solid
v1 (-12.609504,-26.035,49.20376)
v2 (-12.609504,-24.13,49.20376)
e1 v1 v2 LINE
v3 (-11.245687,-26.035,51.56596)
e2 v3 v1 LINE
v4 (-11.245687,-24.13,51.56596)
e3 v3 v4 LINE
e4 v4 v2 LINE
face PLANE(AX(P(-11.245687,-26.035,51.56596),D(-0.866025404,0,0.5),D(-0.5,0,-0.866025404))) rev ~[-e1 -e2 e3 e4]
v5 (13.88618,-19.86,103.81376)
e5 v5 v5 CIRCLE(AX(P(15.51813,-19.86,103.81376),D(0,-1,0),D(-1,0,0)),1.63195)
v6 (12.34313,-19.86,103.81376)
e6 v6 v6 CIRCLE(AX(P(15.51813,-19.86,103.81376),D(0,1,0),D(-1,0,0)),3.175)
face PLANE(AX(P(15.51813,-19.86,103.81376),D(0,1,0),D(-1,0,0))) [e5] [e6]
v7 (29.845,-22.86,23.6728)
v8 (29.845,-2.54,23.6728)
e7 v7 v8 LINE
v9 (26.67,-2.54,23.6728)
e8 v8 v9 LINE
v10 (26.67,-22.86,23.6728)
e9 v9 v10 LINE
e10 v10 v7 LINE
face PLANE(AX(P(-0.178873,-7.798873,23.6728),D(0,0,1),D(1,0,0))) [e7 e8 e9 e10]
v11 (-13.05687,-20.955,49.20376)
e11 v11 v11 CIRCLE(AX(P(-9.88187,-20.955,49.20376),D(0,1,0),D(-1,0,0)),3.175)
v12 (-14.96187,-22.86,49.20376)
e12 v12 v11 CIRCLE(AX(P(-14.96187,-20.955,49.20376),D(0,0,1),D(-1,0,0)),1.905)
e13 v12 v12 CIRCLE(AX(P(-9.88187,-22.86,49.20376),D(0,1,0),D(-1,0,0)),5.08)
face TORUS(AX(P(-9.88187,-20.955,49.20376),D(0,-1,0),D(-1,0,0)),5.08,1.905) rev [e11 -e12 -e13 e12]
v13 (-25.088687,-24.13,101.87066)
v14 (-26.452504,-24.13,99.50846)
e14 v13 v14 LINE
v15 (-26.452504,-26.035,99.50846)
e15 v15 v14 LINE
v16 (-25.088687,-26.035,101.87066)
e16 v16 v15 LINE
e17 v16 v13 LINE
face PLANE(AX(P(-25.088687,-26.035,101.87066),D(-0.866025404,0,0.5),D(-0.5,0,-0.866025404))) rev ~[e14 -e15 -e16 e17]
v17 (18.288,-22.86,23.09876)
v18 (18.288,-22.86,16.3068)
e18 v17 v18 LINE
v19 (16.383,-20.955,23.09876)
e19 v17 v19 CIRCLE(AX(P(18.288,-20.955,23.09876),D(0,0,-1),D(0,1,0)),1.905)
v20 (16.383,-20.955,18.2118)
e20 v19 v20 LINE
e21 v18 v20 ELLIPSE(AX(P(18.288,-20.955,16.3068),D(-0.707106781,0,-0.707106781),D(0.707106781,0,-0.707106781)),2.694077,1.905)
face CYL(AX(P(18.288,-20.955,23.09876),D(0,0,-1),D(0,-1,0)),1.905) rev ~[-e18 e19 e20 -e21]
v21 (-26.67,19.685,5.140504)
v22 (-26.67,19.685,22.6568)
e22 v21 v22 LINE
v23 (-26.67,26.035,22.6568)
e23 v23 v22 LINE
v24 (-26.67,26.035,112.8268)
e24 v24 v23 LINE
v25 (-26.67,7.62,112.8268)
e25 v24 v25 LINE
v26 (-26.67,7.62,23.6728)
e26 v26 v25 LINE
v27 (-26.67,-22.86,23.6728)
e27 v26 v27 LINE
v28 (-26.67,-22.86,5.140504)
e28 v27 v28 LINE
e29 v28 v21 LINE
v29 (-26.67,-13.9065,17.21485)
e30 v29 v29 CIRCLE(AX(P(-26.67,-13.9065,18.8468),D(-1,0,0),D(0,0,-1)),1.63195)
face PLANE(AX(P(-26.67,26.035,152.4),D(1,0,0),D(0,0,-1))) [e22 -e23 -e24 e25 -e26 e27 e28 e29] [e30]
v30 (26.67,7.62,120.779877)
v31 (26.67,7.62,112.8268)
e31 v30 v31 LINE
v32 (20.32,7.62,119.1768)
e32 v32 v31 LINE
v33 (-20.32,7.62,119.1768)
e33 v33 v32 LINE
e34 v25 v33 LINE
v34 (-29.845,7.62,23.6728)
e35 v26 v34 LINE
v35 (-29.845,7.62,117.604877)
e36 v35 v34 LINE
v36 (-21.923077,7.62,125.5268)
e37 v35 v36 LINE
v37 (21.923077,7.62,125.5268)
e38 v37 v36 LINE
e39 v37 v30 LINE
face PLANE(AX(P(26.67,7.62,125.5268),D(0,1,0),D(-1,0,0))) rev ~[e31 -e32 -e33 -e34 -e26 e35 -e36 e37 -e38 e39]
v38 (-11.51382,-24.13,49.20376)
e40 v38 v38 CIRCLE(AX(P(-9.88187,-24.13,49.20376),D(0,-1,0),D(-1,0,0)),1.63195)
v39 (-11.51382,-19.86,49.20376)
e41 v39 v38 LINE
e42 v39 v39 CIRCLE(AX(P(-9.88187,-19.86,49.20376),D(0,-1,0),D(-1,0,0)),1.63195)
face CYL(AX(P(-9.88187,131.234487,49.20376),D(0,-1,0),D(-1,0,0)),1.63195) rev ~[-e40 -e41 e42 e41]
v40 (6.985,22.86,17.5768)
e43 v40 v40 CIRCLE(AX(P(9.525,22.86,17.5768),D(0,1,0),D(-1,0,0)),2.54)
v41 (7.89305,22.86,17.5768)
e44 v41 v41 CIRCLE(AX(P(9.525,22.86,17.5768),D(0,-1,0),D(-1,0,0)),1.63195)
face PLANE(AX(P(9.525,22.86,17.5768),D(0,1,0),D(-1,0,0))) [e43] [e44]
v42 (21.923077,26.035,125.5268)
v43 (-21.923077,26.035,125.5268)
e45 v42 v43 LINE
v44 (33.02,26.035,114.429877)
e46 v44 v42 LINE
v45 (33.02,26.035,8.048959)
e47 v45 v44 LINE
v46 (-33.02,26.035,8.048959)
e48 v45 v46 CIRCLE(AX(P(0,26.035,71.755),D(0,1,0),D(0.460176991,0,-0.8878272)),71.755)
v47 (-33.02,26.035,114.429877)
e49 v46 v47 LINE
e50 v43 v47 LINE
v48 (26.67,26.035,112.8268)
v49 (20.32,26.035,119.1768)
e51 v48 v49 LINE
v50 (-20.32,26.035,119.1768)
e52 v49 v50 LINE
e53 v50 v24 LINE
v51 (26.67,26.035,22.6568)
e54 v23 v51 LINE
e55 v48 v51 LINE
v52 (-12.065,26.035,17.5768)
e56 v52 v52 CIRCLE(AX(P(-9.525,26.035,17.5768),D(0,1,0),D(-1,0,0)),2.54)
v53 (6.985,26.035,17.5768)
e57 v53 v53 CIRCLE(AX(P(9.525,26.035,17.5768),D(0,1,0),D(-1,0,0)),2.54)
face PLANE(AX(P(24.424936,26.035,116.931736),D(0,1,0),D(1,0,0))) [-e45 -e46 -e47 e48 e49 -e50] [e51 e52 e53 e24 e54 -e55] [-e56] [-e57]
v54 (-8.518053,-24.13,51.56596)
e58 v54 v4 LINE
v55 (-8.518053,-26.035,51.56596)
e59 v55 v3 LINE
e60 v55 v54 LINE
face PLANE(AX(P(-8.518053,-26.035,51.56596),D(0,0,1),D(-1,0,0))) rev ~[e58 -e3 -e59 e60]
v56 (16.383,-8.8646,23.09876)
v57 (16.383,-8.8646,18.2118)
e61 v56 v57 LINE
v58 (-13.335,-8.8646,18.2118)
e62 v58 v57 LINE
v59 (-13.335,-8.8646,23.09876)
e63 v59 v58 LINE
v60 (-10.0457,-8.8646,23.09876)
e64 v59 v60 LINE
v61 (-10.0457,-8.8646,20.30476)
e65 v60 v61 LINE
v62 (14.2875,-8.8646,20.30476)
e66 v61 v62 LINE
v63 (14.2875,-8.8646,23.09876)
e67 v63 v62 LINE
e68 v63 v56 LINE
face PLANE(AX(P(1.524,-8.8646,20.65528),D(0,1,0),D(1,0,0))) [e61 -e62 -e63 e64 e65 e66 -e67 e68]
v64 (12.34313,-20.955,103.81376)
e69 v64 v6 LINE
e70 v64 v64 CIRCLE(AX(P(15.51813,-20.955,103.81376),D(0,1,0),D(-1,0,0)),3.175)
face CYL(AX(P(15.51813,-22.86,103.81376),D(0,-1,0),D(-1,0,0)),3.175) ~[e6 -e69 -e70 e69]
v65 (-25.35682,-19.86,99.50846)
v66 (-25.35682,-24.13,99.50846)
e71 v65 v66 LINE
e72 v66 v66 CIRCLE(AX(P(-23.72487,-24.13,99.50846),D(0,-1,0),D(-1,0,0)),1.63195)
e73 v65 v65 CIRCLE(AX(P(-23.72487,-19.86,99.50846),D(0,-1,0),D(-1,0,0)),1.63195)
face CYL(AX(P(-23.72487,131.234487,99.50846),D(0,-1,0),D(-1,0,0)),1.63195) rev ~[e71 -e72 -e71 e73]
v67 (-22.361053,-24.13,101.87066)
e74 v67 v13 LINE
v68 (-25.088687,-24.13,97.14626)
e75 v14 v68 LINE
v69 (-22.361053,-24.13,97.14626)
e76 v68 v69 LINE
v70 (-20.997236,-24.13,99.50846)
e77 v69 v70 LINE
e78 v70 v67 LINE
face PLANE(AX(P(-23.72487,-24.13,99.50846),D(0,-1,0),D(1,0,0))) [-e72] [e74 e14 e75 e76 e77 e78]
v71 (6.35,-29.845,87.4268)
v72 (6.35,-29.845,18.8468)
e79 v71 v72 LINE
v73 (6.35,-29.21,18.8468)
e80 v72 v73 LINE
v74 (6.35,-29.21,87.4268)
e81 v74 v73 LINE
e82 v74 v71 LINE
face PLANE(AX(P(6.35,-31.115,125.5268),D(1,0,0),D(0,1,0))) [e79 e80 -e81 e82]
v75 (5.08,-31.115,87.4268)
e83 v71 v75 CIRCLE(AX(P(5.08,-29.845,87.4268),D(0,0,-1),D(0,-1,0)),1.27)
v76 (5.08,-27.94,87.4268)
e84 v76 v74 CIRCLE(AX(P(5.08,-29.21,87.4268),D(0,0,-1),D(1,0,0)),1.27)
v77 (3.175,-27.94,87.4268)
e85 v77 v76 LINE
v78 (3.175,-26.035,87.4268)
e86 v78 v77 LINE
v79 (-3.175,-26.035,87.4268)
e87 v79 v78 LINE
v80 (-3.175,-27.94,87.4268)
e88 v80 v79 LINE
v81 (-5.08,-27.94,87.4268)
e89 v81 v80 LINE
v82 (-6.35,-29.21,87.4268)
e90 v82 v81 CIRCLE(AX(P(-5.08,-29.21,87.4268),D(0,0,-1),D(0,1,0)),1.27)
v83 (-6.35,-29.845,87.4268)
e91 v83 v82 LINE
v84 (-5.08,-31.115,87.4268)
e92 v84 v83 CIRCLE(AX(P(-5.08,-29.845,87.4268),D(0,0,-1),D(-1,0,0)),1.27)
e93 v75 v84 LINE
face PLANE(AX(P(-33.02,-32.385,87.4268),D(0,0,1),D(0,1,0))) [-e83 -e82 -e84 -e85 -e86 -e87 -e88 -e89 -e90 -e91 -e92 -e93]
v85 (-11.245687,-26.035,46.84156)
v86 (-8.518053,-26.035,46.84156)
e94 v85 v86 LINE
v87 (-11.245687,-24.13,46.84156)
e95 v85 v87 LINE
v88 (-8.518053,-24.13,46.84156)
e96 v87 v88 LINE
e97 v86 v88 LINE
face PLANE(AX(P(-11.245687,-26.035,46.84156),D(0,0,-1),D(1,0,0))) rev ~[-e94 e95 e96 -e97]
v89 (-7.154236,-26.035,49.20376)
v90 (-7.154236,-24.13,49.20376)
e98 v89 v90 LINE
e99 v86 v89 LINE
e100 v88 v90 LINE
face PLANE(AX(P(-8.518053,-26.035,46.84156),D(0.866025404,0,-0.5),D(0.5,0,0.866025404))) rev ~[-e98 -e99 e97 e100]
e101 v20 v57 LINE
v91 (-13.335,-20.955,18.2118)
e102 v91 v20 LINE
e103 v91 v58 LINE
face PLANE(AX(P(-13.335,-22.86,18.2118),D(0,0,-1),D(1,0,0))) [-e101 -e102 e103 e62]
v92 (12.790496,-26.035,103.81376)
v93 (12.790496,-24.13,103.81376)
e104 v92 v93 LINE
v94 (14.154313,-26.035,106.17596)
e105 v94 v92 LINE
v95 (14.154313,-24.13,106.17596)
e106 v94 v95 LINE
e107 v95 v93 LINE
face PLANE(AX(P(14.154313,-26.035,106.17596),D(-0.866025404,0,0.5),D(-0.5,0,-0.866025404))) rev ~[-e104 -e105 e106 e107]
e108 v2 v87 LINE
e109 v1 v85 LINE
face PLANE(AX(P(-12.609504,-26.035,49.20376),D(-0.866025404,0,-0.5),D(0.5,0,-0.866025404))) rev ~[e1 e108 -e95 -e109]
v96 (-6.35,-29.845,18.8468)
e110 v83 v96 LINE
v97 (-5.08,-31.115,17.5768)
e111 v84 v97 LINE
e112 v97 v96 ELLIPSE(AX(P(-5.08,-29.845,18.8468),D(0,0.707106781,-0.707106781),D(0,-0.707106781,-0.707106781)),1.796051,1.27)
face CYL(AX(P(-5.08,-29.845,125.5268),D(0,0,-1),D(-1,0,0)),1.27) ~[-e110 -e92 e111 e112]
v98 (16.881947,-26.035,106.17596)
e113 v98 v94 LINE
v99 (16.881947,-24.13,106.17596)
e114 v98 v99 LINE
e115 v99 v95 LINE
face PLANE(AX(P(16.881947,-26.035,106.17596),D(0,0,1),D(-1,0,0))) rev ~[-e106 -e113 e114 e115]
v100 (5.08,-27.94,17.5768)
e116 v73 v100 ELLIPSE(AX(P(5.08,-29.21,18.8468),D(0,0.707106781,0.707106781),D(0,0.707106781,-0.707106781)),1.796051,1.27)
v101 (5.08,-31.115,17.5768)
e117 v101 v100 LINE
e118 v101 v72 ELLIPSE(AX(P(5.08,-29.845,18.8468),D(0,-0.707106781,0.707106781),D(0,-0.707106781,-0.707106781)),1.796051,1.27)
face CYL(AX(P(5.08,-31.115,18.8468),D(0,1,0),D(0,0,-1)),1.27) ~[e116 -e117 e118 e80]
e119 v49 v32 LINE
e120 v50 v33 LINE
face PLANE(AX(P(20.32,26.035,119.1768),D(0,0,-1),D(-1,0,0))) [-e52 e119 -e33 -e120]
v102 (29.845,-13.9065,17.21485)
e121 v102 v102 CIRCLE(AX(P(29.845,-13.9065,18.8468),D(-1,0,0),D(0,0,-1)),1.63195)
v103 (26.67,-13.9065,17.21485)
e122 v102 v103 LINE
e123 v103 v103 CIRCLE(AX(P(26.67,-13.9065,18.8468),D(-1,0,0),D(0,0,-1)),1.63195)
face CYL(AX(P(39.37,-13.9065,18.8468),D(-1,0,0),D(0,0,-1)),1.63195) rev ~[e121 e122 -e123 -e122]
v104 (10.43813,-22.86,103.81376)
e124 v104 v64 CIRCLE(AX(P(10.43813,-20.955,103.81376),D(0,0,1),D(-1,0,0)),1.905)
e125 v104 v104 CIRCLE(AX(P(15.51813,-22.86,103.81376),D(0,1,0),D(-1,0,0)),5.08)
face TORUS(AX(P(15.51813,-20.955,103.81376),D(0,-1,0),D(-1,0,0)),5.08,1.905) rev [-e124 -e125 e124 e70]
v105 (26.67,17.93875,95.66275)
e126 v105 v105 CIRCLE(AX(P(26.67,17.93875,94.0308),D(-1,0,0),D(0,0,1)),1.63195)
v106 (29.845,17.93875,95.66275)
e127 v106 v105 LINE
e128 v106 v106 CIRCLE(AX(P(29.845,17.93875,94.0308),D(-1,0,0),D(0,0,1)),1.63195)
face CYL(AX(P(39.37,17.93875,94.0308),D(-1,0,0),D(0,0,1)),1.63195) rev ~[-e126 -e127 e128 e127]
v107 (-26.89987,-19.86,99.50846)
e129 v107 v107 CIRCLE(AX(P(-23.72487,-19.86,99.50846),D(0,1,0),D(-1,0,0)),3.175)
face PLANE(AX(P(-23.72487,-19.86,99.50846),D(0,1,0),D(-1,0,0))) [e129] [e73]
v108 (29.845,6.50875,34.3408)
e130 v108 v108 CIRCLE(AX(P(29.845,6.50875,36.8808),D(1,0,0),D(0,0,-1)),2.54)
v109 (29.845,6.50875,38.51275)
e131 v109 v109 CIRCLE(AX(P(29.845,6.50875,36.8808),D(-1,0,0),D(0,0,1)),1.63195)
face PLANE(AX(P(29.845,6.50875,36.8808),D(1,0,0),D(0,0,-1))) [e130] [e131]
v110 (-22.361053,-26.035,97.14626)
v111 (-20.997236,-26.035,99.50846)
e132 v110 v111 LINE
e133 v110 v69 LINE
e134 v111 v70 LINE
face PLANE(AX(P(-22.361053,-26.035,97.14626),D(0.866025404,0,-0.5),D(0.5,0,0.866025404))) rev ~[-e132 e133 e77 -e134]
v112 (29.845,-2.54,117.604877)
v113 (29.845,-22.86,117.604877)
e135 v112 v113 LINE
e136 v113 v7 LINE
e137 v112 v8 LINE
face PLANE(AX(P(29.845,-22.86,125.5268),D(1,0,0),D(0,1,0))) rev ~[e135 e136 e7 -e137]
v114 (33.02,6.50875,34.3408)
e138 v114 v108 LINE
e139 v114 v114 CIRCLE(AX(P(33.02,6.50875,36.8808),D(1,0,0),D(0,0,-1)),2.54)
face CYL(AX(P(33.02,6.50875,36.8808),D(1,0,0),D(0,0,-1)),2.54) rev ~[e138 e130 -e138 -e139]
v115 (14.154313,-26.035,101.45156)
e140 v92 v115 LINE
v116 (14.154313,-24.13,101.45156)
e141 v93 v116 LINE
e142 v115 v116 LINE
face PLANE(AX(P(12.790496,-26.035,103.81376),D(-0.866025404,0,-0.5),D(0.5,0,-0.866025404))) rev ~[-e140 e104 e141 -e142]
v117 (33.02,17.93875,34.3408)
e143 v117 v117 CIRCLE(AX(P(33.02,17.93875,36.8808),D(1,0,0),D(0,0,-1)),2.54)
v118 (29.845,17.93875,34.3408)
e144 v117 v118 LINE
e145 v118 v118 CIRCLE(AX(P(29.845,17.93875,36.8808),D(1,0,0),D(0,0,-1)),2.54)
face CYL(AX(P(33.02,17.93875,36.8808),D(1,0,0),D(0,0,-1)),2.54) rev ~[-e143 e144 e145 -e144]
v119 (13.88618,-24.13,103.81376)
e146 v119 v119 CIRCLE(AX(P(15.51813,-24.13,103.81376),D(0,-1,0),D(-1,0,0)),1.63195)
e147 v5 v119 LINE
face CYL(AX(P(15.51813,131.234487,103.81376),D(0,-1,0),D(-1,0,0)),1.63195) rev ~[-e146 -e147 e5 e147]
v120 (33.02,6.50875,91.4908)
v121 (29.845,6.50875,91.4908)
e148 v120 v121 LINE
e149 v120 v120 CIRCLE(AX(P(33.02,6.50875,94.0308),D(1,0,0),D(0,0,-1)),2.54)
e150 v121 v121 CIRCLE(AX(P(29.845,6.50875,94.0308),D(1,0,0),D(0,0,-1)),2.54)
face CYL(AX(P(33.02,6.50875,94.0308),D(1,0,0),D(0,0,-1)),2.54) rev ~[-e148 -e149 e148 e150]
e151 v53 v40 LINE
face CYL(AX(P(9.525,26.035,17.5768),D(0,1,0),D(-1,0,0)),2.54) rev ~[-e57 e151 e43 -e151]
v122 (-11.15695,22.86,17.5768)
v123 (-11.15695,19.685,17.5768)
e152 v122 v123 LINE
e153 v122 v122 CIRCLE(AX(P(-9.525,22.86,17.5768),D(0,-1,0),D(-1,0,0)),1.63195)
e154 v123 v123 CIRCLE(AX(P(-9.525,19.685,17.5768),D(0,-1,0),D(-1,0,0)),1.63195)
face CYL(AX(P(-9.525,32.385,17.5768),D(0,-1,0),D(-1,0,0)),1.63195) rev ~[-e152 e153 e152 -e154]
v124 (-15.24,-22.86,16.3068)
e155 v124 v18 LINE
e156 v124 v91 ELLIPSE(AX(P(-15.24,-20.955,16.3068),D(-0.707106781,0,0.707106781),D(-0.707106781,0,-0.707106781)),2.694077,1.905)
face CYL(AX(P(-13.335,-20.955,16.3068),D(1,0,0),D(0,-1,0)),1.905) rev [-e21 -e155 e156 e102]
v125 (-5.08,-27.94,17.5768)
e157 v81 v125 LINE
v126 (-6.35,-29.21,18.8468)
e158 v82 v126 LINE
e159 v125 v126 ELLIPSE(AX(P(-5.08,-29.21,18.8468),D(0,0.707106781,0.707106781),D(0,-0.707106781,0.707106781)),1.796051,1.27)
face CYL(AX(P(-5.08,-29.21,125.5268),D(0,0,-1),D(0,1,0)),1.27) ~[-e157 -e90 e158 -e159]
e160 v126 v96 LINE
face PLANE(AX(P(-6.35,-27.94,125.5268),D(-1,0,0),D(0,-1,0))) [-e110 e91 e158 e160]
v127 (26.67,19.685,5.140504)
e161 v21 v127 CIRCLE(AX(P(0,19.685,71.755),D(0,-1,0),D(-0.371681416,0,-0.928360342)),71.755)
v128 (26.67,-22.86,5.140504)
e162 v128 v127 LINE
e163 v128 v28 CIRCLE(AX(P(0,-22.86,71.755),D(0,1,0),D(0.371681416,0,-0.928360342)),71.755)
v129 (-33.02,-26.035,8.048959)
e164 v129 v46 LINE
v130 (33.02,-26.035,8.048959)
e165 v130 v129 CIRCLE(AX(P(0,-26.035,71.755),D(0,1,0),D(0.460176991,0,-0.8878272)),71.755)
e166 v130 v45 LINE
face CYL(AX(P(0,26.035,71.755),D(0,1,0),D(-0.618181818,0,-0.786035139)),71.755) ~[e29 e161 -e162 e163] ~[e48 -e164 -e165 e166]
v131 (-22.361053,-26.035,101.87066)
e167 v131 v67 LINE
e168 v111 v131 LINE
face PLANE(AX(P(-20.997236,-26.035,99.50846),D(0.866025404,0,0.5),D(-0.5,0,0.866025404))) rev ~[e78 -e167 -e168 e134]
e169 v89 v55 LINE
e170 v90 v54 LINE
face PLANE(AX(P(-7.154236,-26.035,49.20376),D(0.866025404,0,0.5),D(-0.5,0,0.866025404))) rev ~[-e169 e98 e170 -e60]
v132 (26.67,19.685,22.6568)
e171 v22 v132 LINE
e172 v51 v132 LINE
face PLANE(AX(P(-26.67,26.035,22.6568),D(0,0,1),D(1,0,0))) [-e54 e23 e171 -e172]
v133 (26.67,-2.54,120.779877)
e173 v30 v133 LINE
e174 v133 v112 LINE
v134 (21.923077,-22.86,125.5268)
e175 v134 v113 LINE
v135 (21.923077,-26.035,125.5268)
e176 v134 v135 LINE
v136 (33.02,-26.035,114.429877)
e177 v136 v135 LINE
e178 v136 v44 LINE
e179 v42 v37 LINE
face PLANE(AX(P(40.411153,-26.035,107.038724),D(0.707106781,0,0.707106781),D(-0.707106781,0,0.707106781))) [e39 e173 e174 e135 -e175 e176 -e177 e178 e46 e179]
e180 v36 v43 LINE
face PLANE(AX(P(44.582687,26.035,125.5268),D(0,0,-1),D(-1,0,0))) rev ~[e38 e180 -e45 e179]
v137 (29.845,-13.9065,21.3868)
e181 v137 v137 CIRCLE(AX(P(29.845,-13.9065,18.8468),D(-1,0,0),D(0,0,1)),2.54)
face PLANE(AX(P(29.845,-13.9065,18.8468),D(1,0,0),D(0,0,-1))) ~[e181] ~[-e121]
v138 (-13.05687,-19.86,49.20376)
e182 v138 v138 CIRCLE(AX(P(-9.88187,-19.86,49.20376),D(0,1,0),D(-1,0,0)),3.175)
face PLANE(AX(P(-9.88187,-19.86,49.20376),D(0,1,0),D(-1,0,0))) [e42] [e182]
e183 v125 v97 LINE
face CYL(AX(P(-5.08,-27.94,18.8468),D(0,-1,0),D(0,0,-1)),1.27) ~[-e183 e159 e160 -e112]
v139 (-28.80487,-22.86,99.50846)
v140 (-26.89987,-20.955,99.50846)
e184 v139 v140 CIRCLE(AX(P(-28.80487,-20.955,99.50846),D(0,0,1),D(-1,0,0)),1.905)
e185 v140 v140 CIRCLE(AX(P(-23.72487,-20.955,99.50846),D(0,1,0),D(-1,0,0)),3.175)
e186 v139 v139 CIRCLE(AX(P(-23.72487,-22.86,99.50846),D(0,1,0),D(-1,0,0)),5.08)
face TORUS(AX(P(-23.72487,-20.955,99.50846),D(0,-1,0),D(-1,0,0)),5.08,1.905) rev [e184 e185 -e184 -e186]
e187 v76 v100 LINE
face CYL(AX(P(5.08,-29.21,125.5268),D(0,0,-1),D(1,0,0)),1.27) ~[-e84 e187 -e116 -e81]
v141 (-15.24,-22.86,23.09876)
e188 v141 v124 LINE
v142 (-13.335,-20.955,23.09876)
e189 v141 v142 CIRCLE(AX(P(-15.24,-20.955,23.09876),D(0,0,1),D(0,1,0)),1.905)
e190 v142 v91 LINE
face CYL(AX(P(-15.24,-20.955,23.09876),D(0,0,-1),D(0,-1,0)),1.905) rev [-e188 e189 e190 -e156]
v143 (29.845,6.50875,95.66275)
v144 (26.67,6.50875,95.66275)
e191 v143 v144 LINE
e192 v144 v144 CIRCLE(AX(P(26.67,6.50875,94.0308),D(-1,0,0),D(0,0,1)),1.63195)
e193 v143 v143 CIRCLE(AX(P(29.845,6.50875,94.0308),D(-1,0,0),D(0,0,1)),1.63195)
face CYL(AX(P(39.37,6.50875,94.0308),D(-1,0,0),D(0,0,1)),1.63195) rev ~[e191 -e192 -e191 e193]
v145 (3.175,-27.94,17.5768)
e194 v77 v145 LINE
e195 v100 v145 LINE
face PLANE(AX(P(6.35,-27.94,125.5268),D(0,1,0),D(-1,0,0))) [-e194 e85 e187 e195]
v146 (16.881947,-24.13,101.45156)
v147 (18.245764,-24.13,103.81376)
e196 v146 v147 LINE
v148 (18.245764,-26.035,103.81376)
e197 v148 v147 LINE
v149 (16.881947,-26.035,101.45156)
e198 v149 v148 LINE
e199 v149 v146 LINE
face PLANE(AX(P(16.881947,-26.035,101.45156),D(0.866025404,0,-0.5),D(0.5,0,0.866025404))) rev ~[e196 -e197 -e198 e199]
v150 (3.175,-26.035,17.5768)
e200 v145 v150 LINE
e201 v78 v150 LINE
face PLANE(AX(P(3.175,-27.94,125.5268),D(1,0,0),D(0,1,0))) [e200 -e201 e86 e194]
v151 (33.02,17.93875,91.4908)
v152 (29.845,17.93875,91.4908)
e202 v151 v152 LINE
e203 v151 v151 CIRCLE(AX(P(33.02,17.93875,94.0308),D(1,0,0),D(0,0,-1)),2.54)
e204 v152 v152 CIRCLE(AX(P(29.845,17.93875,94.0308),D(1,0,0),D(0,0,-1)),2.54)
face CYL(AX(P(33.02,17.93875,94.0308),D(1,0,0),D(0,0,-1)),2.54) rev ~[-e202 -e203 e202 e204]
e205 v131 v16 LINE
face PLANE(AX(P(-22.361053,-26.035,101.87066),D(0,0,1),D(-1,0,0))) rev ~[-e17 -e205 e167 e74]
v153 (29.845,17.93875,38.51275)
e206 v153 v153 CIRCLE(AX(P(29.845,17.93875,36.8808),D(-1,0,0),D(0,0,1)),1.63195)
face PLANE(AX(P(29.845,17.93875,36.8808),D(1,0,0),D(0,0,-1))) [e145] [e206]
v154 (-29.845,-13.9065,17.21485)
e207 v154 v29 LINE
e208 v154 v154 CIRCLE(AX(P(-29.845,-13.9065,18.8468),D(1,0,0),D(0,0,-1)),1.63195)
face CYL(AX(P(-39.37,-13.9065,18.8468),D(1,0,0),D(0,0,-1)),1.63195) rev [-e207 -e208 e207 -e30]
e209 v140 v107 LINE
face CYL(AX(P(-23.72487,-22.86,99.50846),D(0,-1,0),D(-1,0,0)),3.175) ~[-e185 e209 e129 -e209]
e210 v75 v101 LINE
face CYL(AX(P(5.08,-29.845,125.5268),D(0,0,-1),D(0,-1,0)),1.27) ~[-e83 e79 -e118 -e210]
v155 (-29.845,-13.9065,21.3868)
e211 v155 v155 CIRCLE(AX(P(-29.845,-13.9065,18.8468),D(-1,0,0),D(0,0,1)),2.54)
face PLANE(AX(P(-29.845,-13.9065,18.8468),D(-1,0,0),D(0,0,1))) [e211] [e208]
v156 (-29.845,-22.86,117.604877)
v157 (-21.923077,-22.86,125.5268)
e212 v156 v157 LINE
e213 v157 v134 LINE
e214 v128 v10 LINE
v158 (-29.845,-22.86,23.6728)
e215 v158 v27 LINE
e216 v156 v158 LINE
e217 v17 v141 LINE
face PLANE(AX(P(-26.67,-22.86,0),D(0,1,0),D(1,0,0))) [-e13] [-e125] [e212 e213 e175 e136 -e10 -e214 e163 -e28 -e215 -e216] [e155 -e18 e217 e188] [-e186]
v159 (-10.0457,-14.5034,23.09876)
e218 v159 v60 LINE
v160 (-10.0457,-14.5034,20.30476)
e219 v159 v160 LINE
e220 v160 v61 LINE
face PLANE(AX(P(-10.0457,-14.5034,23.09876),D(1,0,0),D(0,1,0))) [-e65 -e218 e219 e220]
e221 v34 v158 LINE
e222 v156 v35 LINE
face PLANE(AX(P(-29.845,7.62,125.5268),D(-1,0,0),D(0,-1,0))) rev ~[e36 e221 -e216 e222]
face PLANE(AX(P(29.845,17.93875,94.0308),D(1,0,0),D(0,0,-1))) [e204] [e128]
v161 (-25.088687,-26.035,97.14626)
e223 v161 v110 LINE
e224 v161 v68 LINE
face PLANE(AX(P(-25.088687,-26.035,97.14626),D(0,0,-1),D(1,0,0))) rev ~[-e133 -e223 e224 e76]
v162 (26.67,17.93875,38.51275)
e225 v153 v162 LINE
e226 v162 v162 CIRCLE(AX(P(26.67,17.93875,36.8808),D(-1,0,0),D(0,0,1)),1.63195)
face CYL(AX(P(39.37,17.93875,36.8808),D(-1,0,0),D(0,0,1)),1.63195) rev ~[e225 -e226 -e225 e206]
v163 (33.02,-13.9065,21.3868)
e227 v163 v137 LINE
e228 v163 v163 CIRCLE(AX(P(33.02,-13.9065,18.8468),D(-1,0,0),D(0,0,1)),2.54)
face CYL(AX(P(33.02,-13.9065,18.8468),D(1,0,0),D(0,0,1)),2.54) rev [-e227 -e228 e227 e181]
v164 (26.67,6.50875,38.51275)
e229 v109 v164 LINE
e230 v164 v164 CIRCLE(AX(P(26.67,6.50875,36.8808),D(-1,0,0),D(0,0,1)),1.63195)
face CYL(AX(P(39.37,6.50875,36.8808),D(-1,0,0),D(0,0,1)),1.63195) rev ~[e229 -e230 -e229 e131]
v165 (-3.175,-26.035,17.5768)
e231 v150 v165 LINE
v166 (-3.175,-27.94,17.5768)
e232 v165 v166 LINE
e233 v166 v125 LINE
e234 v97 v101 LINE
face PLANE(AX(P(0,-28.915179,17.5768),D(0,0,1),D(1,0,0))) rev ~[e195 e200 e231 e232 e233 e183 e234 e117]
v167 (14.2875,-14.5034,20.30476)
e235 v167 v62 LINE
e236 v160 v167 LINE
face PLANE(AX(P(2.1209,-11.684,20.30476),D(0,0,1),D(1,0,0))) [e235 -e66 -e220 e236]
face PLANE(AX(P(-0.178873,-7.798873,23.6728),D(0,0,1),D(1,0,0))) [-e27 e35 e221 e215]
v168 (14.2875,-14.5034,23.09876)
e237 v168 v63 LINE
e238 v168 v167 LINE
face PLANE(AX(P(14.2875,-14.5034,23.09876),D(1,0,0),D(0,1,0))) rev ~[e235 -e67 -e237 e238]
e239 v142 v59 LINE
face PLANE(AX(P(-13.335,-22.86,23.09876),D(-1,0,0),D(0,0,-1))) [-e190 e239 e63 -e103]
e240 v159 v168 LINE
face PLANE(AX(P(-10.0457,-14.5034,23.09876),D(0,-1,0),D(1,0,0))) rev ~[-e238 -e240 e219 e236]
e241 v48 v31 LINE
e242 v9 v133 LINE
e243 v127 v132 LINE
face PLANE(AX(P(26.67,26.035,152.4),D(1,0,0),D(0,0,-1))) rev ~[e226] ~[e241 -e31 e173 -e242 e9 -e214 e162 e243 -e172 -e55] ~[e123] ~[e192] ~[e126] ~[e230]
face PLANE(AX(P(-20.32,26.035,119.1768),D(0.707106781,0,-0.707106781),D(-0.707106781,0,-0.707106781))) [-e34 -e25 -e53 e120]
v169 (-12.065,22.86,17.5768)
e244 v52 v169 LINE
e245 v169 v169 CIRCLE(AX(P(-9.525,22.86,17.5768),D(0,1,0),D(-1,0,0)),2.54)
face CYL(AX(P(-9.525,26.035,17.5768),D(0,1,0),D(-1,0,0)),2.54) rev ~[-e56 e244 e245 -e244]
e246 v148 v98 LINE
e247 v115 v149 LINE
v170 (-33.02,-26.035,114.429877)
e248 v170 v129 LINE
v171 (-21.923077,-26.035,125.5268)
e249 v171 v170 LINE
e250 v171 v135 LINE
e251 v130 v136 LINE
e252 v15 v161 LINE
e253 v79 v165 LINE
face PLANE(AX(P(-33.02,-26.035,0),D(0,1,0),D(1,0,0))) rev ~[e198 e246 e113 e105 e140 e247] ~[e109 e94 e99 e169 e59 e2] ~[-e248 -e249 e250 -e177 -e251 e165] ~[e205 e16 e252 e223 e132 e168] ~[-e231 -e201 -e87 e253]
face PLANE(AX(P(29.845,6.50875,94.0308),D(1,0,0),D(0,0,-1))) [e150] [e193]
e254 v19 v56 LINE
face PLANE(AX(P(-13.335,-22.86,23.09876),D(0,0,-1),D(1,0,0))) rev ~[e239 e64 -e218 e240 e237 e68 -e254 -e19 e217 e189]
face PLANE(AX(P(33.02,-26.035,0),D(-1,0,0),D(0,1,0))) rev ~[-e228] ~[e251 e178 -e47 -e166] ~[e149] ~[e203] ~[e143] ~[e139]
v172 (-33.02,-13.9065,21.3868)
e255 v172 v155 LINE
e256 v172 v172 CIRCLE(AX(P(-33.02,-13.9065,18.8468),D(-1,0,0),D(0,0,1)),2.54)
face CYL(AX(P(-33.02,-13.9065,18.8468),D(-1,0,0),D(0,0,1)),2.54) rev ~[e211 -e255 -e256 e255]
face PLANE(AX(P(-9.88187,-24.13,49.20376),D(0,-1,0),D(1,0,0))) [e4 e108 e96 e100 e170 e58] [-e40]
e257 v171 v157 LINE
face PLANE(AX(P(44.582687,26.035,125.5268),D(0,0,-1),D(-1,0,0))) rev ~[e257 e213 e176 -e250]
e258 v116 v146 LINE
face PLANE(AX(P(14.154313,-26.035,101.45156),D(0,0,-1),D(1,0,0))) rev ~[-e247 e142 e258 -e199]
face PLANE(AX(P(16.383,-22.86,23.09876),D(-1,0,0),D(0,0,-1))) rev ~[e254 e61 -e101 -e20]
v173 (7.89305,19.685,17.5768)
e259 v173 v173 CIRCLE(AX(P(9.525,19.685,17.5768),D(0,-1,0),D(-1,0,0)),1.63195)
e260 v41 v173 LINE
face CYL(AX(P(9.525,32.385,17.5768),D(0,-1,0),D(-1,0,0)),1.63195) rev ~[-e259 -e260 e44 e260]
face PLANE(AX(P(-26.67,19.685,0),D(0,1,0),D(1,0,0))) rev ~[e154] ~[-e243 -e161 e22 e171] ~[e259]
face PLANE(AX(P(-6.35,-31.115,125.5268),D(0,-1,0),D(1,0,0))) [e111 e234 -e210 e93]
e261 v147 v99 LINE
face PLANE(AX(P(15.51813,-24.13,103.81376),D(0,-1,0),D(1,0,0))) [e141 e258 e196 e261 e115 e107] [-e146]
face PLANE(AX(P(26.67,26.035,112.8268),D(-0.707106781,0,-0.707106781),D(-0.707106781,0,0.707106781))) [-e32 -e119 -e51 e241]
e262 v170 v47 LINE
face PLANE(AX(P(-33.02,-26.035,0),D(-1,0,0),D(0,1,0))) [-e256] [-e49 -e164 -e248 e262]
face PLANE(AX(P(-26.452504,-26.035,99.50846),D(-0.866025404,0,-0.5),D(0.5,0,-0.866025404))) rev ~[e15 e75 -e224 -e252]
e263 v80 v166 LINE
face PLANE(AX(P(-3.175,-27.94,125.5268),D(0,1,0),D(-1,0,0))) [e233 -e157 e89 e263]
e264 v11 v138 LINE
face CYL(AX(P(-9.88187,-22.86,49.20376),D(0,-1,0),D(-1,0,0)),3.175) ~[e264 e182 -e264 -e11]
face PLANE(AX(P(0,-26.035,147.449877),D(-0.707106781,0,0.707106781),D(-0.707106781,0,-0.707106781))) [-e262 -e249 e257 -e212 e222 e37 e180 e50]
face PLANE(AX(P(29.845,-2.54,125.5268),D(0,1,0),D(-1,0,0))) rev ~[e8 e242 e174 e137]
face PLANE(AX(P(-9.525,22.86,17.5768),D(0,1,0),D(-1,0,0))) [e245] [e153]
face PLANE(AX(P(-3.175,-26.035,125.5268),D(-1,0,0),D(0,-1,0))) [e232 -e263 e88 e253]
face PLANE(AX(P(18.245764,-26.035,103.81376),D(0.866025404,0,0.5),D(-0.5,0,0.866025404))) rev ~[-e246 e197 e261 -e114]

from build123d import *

# Parameters (mm, degrees)
SKETCH1_W                 = 66.04
SKETCH1_H                 = 52.07
SKETCH1_W_2               = 53.34
SKETCH1_H_2               = 42.545
BOSS_EXTRUDE1_DEPTH       = 152.4
SKETCH3_W                 = 53.34
SKETCH3_H                 = 129.7432
CUT_EXTRUDE2_DEPTH        = 48.895
BOSS_EXTRUDE3_DEPTH       = 48.895
SKETCH6_W                 = 177.8
SKETCH6_H                 = 203.2
CUT_EXTRUDE3_DEPTH        = 165.400016119
F_4_CLEARANCE_HOLE3_D     = 3.2639
F_4_CLEARANCE_HOLE3_DEPTH = 6.35
SKETCH12_R                = 2.54
CUT_EXTRUDE5_DEPTH        = 3.175
SKETCH15_R                = 2.54
CUT_EXTRUDE6_DEPTH        = 3.175
CUT_EXTRUDE9_DEPTH        = 101.854
SKETCH18_W                = 29.718
SKETCH18_H                = 4.88696
SD_CARD_HOLDER_DEPTH      = 13.9954
SKETCH19_W                = 24.3332
SKETCH19_H                = 5.6388
CUT_EXTRUDE10_DEPTH       = 2.794
SKETCH20_R                = 3.175
MOUNT_POST_DEPTH          = 3
F_4_CLEARANCE_HOLE1_D     = 3.2639
CUT_EXTRUDE11_DEPTH       = 1.905
F_4_CLEARANCE_HOLE2_D     = 3.2639
F_4_CLEARANCE_HOLE2_DEPTH = 6.35
SKETCH27_R                = 2.54
CUT_EXTRUDE13_DEPTH       = 3.175
FILLET1_R                 = 1.905
FILLET2_R                 = 1.905
CUT_EXTRUDE15_START       = -52.07
CUT_EXTRUDE15_DEPTH       = 52.07
BOSS_EXTRUDE8_DEPTH       = 107.95
FILLET3_R                 = 1.27
SKETCH32_W                = 38.1
SKETCH32_H                = 6.35
CUT_EXTRUDE16_DEPTH       = 146.211577855


with BuildPart() as part:
    # Sketch1 → Boss-Extrude1 (new body)
    with BuildSketch(Plane.XY):
        Rectangle(SKETCH1_W, SKETCH1_H)
        with Locations((0, -1.5875)):
            Rectangle(SKETCH1_W_2, SKETCH1_H_2, mode=Mode.SUBTRACT)
    extrude(amount=BOSS_EXTRUDE1_DEPTH)

    # Sketch3 → Cut-Extrude2 (cut)
    with BuildSketch(Plane(origin=(0, 26.035, 0), x_dir=(1, 0, 0), z_dir=(0, 1, 0))):
        with Locations((0, -87.5284)):
            Rectangle(SKETCH3_W, SKETCH3_H)
    extrude(amount=-CUT_EXTRUDE2_DEPTH, mode=Mode.SUBTRACT)

    # Sketch5 → Boss-Extrude3 (add)
    with BuildSketch(Plane(origin=(0, 26.035, 0), x_dir=(1, 0, 0), z_dir=(0, 1, 0))):
        Polygon((20.32, -119.1768), (26.67, -119.1768), (26.67, -112.8268), align=None)
        Polygon((-26.67, -119.1768), (-20.32, -119.1768), (-26.67, -112.8268), align=None)
        Polygon((0, -152.4), (0, -119.1768), (-20.32, -119.1768), (-26.67, -119.1768), (-26.67, -152.4), align=None)
        Polygon((26.67, -152.4), (26.67, -119.1768), (20.32, -119.1768), (0, -119.1768), (0, -152.4), align=None)
    extrude(amount=-BOSS_EXTRUDE3_DEPTH)

    # Sketch6 → Cut-Extrude3 (cut, through all)
    with BuildSketch(Plane(origin=(0, 26.035, 0), x_dir=(1, 0, 0), z_dir=(0, 1, 0))):
        with Locations((2.791033984, -70.453804893)):
            Rectangle(SKETCH6_W, SKETCH6_H)
        with BuildLine():
            Line((44.5826875, -125.5268), (-44.5826875, -125.5268))
            ThreePointArc((-44.5826875, -125.5268), (-69.844182534, -70.853519983), (-43.18, -16.850445544))
            Line((-43.18, -16.850445544), (-44.357636364, -15.353048604))
            ThreePointArc((-44.357636364, -15.353048604), (0, 0), (44.357636364, -15.353048604))
            Line((44.357636364, -15.353048604), (43.18, -16.850445544))
            ThreePointArc((43.18, -16.850445544), (69.844182534, -70.853519983), (44.5826875, -125.5268))
        make_face(mode=Mode.SUBTRACT)
    extrude(amount=-CUT_EXTRUDE3_DEPTH, mode=Mode.SUBTRACT)

    # #4 Clearance Hole3
    with Locations(Plane(origin=(0, 26.035, 0), x_dir=(1, 0, 0), z_dir=(0, 1, 0))):
        with Locations((-9.525, -17.5768), (9.525, -17.5768)):
            Hole(F_4_CLEARANCE_HOLE3_D / 2, depth=F_4_CLEARANCE_HOLE3_DEPTH)

    # Sketch12 → Cut-Extrude5 (cut)
    with BuildSketch(Plane(origin=(0, 26.035, 0), x_dir=(1, 0, 0), z_dir=(0, 1, 0))):
        with Locations(Location((-9.525, -17.5768, 0), (0, 0, 180))):
            Circle(SKETCH12_R)
        with Locations(Location((9.525, -17.5768, 0), (0, 0, 180))):
            Circle(SKETCH12_R)
    extrude(amount=-CUT_EXTRUDE5_DEPTH, mode=Mode.SUBTRACT)

    # Sketch13 → #4 Clearance Hole4 (revolve, cut)
    with BuildSketch(Plane(origin=(-26.67, -13.9065, 18.8468), x_dir=(0, 0, -1), z_dir=(0, 1, 0))):
        Polygon((0, 0), (0, 13.680574487), (1.63195, 12.7), (1.63195, 0), align=None)
    f_4_clearance_hole4 = revolve(axis=Axis((-20.32, -13.9065, 18.8468), (-1, 0, 0)), mode=Mode.SUBTRACT)

    # Sketch15 → Cut-Extrude6 (cut)
    with BuildSketch(Plane.ZY.offset(33.02)):
        with Locations((18.8468, -13.9065)):
            Circle(SKETCH15_R)
    cut_extrude6 = extrude(amount=-CUT_EXTRUDE6_DEPTH, mode=Mode.SUBTRACT)

    # Mirror1: #4 Clearance Hole4, Cut-Extrude6 across plane
    add(f_4_clearance_hole4.mirror(Plane(origin=(0, 0, 0), x_dir=(0, 0, 1), z_dir=(1, 0, 0))), mode=Mode.SUBTRACT)
    add(cut_extrude6.mirror(Plane(origin=(0, 0, 0), x_dir=(0, 0, 1), z_dir=(1, 0, 0))), mode=Mode.SUBTRACT)

    # Sketch16 → Cut-Extrude9 (cut)
    with BuildSketch(Plane(origin=(0, 0, 125.5268), x_dir=(-1, 0, 0), z_dir=(0, 0, -1))):
        Polygon((-26.67, 7.62), (29.845, 7.62), (29.845, -22.86), (-29.845, -22.86), (-29.845, -2.54), (-26.67, -2.54), align=None)
    extrude(amount=CUT_EXTRUDE9_DEPTH, mode=Mode.SUBTRACT)

    # Sketch18 → SD card holder (add)
    with BuildSketch(Plane(origin=(0, -22.86, 0), x_dir=(1, 0, 0), z_dir=(0, 1, 0))):
        with Locations((1.524, -20.65528)):
            Rectangle(SKETCH18_W, SKETCH18_H)
    extrude(amount=SD_CARD_HOLDER_DEPTH)

    # Sketch19 → Cut-Extrude10 (cut)
    with BuildSketch(Plane.XY.offset(23.09876)):
        with Locations((2.1209, -11.684)):
            Rectangle(SKETCH19_W, SKETCH19_H)
    extrude(amount=-CUT_EXTRUDE10_DEPTH, mode=Mode.SUBTRACT)

    # Sketch20 → mount post (add)
    with BuildSketch(Plane(origin=(0, -22.86, 0), x_dir=(1, 0, 0), z_dir=(0, 1, 0))):
        with Locations(Location((-9.88187, -49.20376, 0), (0, 0, 180))):
            Circle(SKETCH20_R)
        with Locations(Location((15.51813, -103.81376, 0), (0, 0, 180))):
            Circle(SKETCH20_R)
        with Locations(Location((-23.72487, -99.50846, 0), (0, 0, 180))):
            Circle(SKETCH20_R)
    extrude(amount=MOUNT_POST_DEPTH)

    # #4 Clearance Hole1 (through all)
    with Locations(Plane(origin=(0, -19.86, 0), x_dir=(1, 0, 0), z_dir=(0, 1, 0))):
        with Locations((15.51813, -103.81376), (-9.88187, -49.20376), (-23.72487, -99.50846)):
            Hole(F_4_CLEARANCE_HOLE1_D / 2)

    # Sketch23 → Cut-Extrude11 (cut)
    with BuildSketch(Plane.XZ.offset(26.035)):
        Polygon((-7.154236388, 49.20376), (-8.518053194, 51.56596), (-11.245686806, 51.56596), (-12.609503612, 49.20376), (-11.245686806, 46.84156), (-8.518053194, 46.84156), align=None)
        Polygon((18.245763612, 103.81376), (16.881946806, 106.17596), (14.154313194, 106.17596), (12.790496388, 103.81376), (14.154313194, 101.45156), (16.881946806, 101.45156), align=None)
        Polygon((-22.361053194, 97.14626), (-20.997236388, 99.50846), (-22.361053194, 101.87066), (-25.088686806, 101.87066), (-26.452503612, 99.50846), (-25.088686806, 97.14626), align=None)
    extrude(amount=-CUT_EXTRUDE11_DEPTH, mode=Mode.SUBTRACT)

    # #4 Clearance Hole2
    with Locations(Plane(origin=(33.02, 0, 0), x_dir=(0, 0, -1), z_dir=(1, 0, 0))):
        with Locations((-94.0308, 17.93875), (-94.0308, 6.50875), (-36.8808, 17.93875), (-36.8808, 6.50875)):
            Hole(F_4_CLEARANCE_HOLE2_D / 2, depth=F_4_CLEARANCE_HOLE2_DEPTH)

    # Sketch27 → Cut-Extrude13 (cut)
    with BuildSketch(Plane(origin=(33.02, 0, 0), x_dir=(0, 0, -1), z_dir=(1, 0, 0))):
        with Locations((-94.0308, 17.93875)):
            Circle(SKETCH27_R)
        with Locations((-94.0308, 6.50875)):
            Circle(SKETCH27_R)
        with Locations((-36.8808, 17.93875)):
            Circle(SKETCH27_R)
        with Locations((-36.8808, 6.50875)):
            Circle(SKETCH27_R)
    extrude(amount=-CUT_EXTRUDE13_DEPTH, mode=Mode.SUBTRACT)

    # Fillet1
    fillet1_edges = [part.edges().sort_by_distance(p)[0] for p in [
        (-13.335, -22.86, 20.65528),
        (16.383, -22.86, 20.65528),
        (1.524, -22.86, 18.2118),
    ]]
    fillet(fillet1_edges, radius=FILLET1_R)

    # Fillet2
    fillet2_edges = [part.edges().sort_by_distance(p)[0] for p in [
        (-6.70687, -22.86, 49.20376),
        (18.69313, -22.86, 103.81376),
        (-20.54987, -22.86, 99.50846),
    ]]
    fillet(fillet2_edges, radius=FILLET2_R)

    # Sketch28 → Cut-Extrude15 (cut)
    with BuildSketch(Plane(origin=(0, 26.035, 0), x_dir=(1, 0, 0), z_dir=(0, 1, 0)).offset(CUT_EXTRUDE15_START)):
        Polygon((40.411152545, -107.038724254), (0, -147.449876798), (-40.411152545, -107.038724254), (-54.779562339, -121.407134047), (0, -176.186696386), (54.779562339, -121.407134047), align=None)
    extrude(amount=CUT_EXTRUDE15_DEPTH, mode=Mode.SUBTRACT)

    # Sketch31 → Boss-Extrude8 (add)
    with BuildSketch(Plane.XY.offset(125.5268)):
        Polygon((3.175, -26.035), (-3.175, -26.035), (-3.175, -27.94), (-6.35, -27.94), (-6.35, -31.115), (6.35, -31.115), (6.35, -27.94), (3.175, -27.94), align=None)
    extrude(amount=-BOSS_EXTRUDE8_DEPTH)

    # Fillet3
    fillet3_edges = [part.edges().sort_by_distance(p)[0] for p in [
        (6.35, -29.5275, 125.5268),
        (6.35, -27.94, 71.5518),
        (6.35, -31.115, 71.5518),
        (-6.35, -29.5275, 17.5768),
        (-6.35, -31.115, 71.5518),
        (-6.35, -27.94, 71.5518),
        (6.35, -29.5275, 17.5768),
        (-6.35, -29.5275, 125.5268),
    ]]
    fillet(fillet3_edges, radius=FILLET3_R)

    # Sketch32 → Cut-Extrude16 (cut, through all)
    with BuildSketch(Plane.ZY.offset(33.02)):
        with Locations((106.4768, -29.21)):
            Rectangle(SKETCH32_W, SKETCH32_H)
    extrude(amount=-CUT_EXTRUDE16_DEPTH, mode=Mode.SUBTRACT)


solid = part.part
